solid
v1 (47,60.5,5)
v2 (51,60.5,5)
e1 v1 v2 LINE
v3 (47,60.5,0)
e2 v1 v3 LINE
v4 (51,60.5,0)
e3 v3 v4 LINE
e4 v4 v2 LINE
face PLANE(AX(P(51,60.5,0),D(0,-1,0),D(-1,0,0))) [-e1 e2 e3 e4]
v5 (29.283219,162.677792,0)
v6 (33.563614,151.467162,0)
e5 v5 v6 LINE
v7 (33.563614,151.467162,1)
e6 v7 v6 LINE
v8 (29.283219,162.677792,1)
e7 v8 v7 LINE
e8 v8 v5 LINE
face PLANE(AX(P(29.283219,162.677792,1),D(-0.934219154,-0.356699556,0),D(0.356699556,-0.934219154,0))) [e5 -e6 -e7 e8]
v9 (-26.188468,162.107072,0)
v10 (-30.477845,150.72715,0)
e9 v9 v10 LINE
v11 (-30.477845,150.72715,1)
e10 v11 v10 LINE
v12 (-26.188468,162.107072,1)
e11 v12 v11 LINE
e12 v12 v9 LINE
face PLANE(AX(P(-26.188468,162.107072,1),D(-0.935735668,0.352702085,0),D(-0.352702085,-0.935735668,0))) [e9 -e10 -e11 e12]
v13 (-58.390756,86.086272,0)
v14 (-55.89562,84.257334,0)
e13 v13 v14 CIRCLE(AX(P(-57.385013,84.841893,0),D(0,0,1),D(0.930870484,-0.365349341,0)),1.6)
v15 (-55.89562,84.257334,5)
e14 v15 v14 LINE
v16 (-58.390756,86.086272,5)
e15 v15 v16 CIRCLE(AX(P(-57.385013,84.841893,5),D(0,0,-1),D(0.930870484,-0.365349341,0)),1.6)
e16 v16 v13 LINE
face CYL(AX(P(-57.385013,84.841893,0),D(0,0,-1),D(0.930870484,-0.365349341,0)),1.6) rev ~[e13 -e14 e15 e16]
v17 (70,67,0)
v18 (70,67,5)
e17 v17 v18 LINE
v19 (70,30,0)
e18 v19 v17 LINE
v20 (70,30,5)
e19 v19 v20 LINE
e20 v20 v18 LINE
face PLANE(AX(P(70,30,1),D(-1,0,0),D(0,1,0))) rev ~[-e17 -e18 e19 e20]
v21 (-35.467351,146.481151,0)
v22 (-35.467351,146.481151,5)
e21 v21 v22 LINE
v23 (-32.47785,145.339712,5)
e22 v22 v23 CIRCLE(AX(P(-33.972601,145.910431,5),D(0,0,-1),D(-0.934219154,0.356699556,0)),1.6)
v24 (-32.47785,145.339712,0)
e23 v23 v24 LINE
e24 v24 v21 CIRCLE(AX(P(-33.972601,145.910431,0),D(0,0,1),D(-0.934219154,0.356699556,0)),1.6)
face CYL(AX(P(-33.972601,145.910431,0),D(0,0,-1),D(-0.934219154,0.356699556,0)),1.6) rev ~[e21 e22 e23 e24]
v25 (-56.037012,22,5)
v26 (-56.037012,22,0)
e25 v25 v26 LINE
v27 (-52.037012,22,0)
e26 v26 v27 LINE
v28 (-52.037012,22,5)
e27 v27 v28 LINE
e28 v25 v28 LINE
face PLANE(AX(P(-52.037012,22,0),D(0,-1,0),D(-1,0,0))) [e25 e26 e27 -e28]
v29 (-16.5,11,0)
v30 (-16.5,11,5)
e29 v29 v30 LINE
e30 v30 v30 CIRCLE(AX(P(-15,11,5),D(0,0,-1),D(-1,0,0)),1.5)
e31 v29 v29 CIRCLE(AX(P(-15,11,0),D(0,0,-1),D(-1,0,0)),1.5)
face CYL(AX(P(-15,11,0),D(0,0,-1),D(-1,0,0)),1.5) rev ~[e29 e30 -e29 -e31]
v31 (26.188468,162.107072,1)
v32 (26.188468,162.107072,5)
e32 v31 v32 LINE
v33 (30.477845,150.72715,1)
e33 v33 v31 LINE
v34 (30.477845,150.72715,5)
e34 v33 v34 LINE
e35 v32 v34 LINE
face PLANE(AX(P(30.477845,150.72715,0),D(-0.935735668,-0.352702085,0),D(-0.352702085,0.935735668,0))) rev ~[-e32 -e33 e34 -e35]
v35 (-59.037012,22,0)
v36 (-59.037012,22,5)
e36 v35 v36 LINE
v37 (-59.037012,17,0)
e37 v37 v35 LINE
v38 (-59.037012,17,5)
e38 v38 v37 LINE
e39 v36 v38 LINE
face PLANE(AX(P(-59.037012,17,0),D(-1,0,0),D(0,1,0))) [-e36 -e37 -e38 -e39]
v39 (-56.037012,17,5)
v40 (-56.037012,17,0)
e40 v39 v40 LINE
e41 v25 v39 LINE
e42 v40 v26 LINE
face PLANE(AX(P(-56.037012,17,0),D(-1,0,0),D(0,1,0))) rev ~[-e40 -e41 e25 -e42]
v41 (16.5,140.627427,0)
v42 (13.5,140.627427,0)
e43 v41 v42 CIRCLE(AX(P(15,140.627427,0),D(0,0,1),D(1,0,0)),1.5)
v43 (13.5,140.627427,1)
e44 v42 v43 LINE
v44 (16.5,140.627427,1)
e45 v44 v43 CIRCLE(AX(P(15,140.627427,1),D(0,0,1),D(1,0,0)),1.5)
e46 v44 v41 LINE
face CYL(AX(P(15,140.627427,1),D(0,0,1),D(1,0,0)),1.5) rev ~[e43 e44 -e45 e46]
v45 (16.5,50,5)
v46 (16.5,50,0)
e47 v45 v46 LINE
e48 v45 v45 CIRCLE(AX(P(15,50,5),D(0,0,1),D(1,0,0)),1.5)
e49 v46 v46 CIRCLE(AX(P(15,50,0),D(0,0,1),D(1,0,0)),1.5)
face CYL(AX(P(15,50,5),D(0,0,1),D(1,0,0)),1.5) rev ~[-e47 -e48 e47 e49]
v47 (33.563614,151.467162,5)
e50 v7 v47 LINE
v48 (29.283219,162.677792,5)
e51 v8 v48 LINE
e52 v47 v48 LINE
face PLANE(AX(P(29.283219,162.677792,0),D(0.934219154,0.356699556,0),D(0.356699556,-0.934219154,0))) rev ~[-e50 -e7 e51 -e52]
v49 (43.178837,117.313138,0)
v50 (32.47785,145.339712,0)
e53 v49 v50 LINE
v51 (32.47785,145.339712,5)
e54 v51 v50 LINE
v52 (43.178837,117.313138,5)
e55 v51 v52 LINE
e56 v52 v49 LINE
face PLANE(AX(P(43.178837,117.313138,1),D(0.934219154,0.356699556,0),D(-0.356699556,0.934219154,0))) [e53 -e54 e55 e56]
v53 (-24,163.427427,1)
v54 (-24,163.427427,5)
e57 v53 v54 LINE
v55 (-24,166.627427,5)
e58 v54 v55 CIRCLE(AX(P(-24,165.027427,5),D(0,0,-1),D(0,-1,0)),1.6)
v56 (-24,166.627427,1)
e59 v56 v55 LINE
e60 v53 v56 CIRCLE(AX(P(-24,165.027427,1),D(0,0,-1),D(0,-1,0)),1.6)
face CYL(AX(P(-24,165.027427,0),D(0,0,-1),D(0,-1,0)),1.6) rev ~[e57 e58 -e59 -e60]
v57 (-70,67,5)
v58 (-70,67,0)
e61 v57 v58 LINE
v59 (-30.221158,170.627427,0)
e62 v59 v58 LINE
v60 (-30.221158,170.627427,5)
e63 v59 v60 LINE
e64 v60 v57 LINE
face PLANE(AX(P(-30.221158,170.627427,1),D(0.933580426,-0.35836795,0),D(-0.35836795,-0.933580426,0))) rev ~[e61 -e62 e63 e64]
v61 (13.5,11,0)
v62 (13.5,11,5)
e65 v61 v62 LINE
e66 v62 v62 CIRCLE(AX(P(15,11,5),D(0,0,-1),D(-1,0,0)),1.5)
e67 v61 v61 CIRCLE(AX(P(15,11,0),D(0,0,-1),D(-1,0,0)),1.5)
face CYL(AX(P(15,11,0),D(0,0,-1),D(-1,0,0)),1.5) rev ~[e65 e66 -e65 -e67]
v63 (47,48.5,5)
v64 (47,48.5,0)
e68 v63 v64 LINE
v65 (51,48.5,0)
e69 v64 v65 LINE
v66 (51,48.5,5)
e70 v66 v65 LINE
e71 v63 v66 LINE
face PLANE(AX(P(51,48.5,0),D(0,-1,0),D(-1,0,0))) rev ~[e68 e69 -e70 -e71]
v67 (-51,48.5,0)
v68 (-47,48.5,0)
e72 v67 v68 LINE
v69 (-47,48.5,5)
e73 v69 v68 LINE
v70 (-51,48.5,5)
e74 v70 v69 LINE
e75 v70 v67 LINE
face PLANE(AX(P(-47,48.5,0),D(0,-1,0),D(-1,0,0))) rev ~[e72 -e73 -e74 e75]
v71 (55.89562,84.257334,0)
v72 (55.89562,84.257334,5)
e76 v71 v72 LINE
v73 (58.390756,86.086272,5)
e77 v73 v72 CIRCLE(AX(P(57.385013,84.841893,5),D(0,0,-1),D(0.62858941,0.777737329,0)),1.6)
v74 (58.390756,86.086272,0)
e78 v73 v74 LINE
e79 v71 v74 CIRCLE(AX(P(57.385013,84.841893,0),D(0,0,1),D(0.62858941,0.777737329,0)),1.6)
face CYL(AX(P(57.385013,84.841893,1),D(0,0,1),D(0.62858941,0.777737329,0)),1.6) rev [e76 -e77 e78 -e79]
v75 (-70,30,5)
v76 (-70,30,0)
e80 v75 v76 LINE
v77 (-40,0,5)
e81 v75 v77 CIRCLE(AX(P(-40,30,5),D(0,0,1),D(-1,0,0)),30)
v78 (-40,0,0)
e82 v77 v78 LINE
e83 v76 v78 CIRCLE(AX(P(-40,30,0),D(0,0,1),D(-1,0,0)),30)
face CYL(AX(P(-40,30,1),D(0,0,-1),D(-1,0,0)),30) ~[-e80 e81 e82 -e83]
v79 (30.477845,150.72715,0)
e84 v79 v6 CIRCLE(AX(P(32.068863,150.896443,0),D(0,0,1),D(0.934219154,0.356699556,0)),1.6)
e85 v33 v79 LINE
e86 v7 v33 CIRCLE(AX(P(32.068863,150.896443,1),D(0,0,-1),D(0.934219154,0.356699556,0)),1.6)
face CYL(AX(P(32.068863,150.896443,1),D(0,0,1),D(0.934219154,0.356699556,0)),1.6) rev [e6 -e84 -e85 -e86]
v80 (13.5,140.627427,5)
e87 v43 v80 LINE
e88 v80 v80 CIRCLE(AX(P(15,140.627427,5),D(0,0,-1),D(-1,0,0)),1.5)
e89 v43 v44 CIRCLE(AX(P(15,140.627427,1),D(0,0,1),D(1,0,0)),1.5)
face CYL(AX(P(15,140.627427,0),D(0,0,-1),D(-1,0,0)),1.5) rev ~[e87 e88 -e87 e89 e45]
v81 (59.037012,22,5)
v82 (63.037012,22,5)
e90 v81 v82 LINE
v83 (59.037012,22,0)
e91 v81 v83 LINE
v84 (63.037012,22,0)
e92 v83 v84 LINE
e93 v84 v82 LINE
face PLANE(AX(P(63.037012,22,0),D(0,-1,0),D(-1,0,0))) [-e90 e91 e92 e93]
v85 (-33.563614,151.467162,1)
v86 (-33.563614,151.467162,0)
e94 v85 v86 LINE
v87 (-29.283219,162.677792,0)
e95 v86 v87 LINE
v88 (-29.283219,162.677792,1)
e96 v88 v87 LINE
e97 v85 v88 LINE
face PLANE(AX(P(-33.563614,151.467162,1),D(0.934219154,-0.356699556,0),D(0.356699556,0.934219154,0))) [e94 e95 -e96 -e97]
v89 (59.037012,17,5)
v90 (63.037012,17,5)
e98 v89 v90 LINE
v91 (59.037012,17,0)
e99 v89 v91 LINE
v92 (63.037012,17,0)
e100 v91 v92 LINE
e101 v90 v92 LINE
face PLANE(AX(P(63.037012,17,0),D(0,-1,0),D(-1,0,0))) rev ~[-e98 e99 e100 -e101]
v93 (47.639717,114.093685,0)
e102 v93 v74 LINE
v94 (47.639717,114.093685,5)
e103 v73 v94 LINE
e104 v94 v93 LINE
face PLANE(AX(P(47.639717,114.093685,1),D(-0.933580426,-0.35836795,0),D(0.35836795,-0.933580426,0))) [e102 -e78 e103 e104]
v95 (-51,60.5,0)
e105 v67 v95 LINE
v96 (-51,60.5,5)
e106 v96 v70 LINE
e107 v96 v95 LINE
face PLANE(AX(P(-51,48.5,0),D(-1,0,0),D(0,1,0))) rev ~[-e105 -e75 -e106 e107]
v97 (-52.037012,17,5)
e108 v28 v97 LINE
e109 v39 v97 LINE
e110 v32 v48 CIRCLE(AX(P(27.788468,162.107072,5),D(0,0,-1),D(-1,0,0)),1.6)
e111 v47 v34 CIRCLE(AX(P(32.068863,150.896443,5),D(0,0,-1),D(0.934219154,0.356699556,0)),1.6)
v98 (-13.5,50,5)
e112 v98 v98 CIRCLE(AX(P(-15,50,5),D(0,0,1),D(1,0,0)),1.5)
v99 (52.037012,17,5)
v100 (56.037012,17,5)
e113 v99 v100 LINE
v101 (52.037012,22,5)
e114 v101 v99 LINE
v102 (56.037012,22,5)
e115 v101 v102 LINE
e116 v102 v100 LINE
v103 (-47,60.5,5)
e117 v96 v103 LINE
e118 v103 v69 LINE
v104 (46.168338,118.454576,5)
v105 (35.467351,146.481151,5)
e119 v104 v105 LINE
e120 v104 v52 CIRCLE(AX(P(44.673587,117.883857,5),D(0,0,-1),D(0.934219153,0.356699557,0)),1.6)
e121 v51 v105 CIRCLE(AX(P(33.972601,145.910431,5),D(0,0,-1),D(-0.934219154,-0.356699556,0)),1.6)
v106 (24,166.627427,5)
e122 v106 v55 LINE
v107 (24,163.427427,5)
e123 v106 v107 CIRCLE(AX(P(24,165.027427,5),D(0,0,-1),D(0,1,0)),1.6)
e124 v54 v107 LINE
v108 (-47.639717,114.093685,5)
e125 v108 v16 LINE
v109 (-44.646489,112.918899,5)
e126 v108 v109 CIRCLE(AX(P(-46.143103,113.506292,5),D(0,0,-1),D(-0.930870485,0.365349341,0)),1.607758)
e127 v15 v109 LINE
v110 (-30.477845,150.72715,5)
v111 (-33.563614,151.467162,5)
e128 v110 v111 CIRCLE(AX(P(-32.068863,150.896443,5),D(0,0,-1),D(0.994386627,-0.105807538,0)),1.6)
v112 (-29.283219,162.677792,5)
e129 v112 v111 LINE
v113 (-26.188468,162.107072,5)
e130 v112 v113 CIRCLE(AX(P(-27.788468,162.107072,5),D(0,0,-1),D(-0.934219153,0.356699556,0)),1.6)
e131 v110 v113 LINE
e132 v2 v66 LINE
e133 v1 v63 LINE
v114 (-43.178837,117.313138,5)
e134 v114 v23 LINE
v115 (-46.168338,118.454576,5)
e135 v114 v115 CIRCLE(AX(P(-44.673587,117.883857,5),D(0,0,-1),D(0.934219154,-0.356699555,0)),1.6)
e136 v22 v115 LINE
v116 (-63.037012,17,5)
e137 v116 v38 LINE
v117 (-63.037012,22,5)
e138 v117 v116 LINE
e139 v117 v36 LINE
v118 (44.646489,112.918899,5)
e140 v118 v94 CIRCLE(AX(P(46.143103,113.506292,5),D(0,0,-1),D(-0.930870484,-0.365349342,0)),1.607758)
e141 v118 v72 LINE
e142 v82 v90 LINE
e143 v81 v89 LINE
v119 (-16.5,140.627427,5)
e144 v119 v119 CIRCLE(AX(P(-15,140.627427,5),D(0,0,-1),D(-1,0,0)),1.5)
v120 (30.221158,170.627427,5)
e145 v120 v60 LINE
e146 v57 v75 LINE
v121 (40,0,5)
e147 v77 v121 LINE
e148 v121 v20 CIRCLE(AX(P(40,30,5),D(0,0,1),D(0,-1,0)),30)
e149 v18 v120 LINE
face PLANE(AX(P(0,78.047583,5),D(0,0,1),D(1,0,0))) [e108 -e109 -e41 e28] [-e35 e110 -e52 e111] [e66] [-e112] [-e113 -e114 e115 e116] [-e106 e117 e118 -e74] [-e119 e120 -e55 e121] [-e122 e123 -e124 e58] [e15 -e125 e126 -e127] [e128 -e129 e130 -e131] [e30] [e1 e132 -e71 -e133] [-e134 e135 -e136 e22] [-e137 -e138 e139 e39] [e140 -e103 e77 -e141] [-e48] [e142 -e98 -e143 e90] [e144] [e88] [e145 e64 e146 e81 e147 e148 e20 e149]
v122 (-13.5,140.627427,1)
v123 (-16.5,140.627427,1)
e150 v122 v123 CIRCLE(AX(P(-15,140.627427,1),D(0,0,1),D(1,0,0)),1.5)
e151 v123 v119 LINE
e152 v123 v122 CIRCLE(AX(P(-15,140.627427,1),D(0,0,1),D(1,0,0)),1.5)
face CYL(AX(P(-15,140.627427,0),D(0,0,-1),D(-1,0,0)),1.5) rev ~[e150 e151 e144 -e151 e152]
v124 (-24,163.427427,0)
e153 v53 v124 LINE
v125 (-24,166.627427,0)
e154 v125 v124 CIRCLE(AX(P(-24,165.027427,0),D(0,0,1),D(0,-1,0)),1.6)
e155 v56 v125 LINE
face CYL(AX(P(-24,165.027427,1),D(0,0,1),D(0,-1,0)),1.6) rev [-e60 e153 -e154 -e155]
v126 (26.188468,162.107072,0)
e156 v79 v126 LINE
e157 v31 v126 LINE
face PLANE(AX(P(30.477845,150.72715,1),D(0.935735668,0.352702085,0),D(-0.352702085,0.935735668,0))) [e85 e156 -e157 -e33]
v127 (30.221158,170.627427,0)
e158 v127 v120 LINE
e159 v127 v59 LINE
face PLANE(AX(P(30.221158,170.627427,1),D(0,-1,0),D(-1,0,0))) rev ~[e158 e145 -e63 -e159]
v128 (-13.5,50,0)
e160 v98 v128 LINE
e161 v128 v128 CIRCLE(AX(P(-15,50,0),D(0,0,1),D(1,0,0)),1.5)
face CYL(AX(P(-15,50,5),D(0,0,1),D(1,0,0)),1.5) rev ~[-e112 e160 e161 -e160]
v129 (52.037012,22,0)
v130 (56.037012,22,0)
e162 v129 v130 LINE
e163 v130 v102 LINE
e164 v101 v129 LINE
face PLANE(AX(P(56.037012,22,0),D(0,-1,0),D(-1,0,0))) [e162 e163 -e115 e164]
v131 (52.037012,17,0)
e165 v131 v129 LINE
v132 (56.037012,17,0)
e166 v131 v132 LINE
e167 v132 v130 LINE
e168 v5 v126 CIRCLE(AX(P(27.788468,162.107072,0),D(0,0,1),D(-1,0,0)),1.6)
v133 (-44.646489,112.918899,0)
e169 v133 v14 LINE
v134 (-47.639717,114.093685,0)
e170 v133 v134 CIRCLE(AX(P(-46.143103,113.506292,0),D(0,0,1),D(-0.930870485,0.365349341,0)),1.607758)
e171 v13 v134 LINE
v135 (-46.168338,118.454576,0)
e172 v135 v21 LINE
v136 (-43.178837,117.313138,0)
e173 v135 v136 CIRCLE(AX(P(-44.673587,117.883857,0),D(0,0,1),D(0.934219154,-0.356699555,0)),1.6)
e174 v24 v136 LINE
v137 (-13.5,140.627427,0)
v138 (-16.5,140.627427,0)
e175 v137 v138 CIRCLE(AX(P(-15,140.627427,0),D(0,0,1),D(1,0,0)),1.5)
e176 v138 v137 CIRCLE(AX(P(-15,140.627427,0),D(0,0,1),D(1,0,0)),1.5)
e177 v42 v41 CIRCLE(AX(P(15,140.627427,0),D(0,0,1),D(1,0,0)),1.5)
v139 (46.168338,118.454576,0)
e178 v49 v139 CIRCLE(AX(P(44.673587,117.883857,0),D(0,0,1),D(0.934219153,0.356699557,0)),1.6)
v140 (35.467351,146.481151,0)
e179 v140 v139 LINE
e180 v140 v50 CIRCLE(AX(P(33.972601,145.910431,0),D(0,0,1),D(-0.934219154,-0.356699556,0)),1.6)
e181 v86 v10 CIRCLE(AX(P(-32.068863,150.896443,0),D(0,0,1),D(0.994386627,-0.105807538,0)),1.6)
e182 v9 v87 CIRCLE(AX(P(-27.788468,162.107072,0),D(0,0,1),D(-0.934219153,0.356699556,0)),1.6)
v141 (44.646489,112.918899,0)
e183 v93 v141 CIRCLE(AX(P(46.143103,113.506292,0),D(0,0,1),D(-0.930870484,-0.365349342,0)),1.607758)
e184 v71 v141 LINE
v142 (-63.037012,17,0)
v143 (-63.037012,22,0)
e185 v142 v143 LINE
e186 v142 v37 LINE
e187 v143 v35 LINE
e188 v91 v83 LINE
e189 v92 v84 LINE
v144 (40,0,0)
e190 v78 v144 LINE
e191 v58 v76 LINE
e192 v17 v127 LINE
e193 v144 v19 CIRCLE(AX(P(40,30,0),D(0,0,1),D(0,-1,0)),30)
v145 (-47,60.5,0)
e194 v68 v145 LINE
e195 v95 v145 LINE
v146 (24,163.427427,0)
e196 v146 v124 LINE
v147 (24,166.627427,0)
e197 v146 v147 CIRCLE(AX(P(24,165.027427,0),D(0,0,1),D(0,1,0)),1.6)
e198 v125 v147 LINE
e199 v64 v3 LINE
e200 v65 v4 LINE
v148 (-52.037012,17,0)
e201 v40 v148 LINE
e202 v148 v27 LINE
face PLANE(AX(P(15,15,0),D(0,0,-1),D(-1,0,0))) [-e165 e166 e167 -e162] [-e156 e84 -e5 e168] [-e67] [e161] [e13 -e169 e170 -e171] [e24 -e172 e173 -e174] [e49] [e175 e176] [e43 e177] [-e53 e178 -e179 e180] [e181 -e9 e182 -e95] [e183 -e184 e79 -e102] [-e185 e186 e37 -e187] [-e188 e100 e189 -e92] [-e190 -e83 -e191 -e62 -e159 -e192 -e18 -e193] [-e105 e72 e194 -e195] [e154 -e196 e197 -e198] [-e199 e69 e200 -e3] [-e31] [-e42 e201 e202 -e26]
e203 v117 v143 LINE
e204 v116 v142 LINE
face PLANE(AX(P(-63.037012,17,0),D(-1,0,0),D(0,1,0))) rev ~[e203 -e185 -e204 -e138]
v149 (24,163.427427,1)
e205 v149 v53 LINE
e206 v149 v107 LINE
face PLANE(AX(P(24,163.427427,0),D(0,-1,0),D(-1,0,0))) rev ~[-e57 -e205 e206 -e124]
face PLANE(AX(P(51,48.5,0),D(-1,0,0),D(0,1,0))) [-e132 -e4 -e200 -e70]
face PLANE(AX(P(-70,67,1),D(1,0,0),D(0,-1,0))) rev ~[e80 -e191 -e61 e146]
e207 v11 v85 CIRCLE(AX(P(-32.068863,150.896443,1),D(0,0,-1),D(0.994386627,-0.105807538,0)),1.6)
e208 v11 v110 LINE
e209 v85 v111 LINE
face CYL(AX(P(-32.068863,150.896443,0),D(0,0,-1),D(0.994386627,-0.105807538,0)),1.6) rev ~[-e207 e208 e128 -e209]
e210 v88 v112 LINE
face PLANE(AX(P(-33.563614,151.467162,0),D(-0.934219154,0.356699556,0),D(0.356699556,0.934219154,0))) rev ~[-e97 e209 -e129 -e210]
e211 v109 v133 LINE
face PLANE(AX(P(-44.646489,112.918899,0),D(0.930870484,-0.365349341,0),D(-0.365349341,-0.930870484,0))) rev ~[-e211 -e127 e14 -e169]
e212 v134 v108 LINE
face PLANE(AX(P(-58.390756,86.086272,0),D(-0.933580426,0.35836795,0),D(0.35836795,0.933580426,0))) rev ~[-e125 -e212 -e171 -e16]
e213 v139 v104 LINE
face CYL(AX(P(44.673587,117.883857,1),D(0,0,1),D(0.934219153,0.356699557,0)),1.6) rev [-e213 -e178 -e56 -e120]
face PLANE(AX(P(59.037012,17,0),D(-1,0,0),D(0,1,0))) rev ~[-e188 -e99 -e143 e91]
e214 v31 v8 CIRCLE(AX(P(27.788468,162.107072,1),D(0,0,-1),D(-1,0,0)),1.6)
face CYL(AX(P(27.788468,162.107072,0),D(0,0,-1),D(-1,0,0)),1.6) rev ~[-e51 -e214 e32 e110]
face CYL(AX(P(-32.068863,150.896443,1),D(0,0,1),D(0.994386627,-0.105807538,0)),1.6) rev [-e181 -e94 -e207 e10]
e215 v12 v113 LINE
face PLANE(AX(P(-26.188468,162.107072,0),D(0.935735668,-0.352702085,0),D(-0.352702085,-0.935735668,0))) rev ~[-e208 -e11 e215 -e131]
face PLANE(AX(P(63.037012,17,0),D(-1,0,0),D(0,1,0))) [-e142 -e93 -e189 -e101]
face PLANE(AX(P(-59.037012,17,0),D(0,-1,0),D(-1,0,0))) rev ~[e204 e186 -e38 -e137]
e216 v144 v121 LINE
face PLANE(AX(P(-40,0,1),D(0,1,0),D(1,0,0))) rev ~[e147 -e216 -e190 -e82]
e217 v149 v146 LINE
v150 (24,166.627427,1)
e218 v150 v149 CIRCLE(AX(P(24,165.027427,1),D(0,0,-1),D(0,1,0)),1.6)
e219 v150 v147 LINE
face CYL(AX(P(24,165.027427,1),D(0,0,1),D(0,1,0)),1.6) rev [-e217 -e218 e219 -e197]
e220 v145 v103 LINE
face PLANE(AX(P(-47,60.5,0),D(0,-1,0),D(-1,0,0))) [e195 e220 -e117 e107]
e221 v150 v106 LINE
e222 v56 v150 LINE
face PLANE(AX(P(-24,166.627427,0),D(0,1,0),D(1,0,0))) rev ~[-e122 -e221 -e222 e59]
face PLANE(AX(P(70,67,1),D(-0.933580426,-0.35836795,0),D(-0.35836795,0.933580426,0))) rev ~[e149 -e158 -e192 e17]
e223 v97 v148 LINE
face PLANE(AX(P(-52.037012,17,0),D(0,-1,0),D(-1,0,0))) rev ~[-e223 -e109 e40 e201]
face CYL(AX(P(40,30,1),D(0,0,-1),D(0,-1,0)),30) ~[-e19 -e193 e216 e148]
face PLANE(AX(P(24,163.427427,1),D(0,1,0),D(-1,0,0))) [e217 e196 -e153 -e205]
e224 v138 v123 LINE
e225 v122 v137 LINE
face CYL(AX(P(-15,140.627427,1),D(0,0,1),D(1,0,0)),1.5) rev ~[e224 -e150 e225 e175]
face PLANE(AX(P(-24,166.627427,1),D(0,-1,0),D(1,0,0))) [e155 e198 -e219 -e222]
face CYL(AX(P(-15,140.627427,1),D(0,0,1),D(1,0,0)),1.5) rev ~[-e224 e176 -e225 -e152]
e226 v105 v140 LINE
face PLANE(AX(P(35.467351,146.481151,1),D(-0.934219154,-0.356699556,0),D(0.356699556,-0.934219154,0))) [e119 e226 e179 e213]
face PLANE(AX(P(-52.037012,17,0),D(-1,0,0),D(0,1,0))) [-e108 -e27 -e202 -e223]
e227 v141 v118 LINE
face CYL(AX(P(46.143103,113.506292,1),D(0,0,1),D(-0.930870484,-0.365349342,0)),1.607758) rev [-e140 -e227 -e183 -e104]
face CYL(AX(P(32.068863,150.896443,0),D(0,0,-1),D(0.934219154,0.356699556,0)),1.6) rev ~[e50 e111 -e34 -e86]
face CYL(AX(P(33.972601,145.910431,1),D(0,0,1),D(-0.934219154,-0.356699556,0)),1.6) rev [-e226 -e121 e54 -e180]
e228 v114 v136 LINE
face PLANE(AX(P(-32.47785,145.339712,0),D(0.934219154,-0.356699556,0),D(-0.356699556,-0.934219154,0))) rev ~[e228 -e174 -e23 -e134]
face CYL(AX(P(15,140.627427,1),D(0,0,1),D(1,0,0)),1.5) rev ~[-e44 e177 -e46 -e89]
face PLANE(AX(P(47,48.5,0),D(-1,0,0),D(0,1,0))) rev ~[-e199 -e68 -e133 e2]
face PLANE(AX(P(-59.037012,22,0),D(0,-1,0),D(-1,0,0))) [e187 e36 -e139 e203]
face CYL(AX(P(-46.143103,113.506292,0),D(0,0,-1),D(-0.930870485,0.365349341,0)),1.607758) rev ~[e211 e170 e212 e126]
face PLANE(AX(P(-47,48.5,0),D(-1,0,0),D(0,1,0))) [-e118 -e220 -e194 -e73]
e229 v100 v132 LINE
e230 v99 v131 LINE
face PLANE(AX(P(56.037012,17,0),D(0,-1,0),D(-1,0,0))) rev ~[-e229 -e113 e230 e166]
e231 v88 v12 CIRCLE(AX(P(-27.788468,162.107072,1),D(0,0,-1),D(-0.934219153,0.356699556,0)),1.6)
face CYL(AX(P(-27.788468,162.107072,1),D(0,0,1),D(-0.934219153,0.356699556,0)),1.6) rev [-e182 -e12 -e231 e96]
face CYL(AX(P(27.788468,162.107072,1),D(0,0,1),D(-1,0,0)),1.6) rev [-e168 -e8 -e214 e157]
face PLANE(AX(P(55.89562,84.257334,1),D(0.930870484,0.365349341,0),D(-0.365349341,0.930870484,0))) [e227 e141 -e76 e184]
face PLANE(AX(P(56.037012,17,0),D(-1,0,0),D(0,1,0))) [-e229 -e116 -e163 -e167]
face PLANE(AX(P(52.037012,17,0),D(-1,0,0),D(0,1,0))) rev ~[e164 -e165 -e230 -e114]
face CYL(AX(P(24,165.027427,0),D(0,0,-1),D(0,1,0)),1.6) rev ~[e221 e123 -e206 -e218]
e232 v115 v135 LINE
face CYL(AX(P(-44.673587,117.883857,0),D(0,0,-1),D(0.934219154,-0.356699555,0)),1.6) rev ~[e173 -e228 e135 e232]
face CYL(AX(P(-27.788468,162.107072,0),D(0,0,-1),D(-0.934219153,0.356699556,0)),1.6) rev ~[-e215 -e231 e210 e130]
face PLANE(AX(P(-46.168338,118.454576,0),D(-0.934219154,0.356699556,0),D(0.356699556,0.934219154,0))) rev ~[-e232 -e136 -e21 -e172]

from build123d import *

# Parameters (mm, degrees)
BOSS_EXTRUDE2_DEPTH  = 1
SKETCH41_W           = 4
SKETCH41_H           = 5
SKETCH41_R           = 1.5
SKETCH41_H_2         = 12
CUT_EXTRUDE42_DEPTH  = 19
BOSS_EXTRUDE17_DEPTH = 4
SKETCH47_W           = 4
SKETCH47_H           = 5
SKETCH47_H_2         = 12
CUT_EXTRUDE47_DEPTH  = 185.495850796
SKETCH48_R           = 1.5
CUT_EXTRUDE44_DEPTH  = 185.495850796
BOSS_EXTRUDE18_START = -1
SKETCH51_R           = 1.5
BOSS_EXTRUDE18_DEPTH = 1
BOSS_EXTRUDE19_START = -2
SKETCH52_R           = 1.5
BOSS_EXTRUDE19_DEPTH = 2
SKETCH53_R           = 1.5
CUT_EXTRUDE46_DEPTH  = 185.495850796
BOSS_EXTRUDE20_START = -1
SKETCH55_R           = 1.5
BOSS_EXTRUDE20_DEPTH = 1
SKETCH58_R           = 1.5
CUT_EXTRUDE45_DEPTH  = 185.495850796


with BuildPart() as part:
    # Sketch2 → Boss-Extrude2 (new body)
    with BuildSketch(Plane.XY):
        with BuildLine():
            Line((0, 0), (40, 0))
            ThreePointArc((40, 0), (61.213203436, 8.786796564), (70, 30))
            Line((70, 30), (70, 67))
            Line((70, 67), (30.2211576, 170.627427341))
            Line((30.2211576, 170.627427341), (-30.2211576, 170.627427341))
            Line((-30.2211576, 170.627427341), (-70, 67))
            Line((-70, 67), (-70, 30))
            ThreePointArc((-70, 30), (-61.213203436, 8.786796564), (-40, 0))
            Line((-40, 0), (0, 0))
        make_face()
    extrude(amount=BOSS_EXTRUDE2_DEPTH)

    # Sketch41 → Cut-Extrude42 (cut)
    with BuildSketch(Plane.XY.offset(1)):
        with Locations((54.037011669, 19.5)):
            Rectangle(SKETCH41_W, SKETCH41_H)
        with Locations((-54.037011669, 19.5)):
            Rectangle(SKETCH41_W, SKETCH41_H)
        with Locations((-15, 65)):
            Circle(SKETCH41_R)
        with Locations((15, 65)):
            Circle(SKETCH41_R)
        with BuildLine():
            ThreePointArc((-55.895620015, 84.257333662), (-58.330916289, 83.551440528), (-58.390755847, 86.086272335))
            Line((-58.390755847, 86.086272335), (-47.63971736, 114.09368513))
            ThreePointArc((-47.63971736, 114.09368513), (-45.555710052, 115.00290606), (-44.646489123, 112.918898752))
            Line((-44.646489123, 112.918898752), (-55.895620015, 84.257333662))
        make_face()
        with BuildLine():
            ThreePointArc((-43.178836535, 117.313137537), (-45.24430647, 116.38910618), (-46.168337826, 118.454576116))
            Line((-46.168337826, 118.454576116), (-35.46735115, 146.481150722))
            ThreePointArc((-35.46735115, 146.481150722), (-33.401881215, 147.405182078), (-32.477849859, 145.339712143))
            Line((-32.477849859, 145.339712143), (-43.178836535, 117.313137537))
        make_face()
        with BuildLine():
            ThreePointArc((24, 166.627427341), (25.6, 165.027427341), (24, 163.427427341))
            Line((24, 163.427427341), (-24, 163.427427341))
            ThreePointArc((-24, 163.427427341), (-25.6, 165.027427341), (-24, 166.627427341))
            Line((-24, 166.627427341), (24, 166.627427341))
        make_face()
        with BuildLine():
            ThreePointArc((33.563613753, 151.467161805), (32.441986519, 149.340557263), (30.477844504, 150.727150454))
            Line((30.477844504, 150.727150454), (26.188468437, 162.107072358))
            ThreePointArc((26.188468437, 162.107072358), (27.498296965, 163.680540031), (29.283219083, 162.677791648))
            Line((29.283219083, 162.677791648), (33.563613753, 151.467161805))
        make_face()
        with BuildLine():
            Line((55.895620015, 84.257333662), (44.646489123, 112.918898752))
            ThreePointArc((44.646489123, 112.918898752), (45.555710052, 115.00290606), (47.63971736, 114.09368513))
            Line((47.63971736, 114.09368513), (58.390755847, 86.086272335))
            ThreePointArc((58.390755847, 86.086272335), (58.330916289, 83.551440528), (55.895620015, 84.257333662))
        make_face()
        with Locations((-15, 140.627427341)):
            Circle(SKETCH41_R)
        with Locations((15, 140.627427341)):
            Circle(SKETCH41_R)
        with Locations((49, 54.5)):
            Rectangle(SKETCH41_W, SKETCH41_H_2)
        with Locations((-49, 54.5)):
            Rectangle(SKETCH41_W, SKETCH41_H_2)
        with Locations((61.037011669, 19.5)):
            Rectangle(SKETCH41_W, SKETCH41_H)
        with Locations(Location((15, 15, 0), (0, 0, 180))):
            Circle(SKETCH41_R)
        with Locations((-15, 15)):
            Circle(SKETCH41_R)
        with Locations((-61.037011669, 19.5)):
            Rectangle(SKETCH41_W, SKETCH41_H)
        with BuildLine():
            Line((-33.563613753, 151.467161805), (-29.283219083, 162.677791648))
            ThreePointArc((-29.283219083, 162.677791648), (-27.498296965, 163.680540031), (-26.188468437, 162.107072358))
            Line((-26.188468437, 162.107072358), (-30.477844504, 150.727150454))
            ThreePointArc((-30.477844504, 150.727150454), (-32.441986519, 149.340557263), (-33.563613753, 151.467161805))
        make_face()
        with BuildLine():
            Line((35.46735115, 146.481150722), (46.168337826, 118.454576116))
            ThreePointArc((46.168337826, 118.454576116), (45.24430647, 116.38910618), (43.178836535, 117.313137537))
            Line((43.178836535, 117.313137537), (32.477849859, 145.339712143))
            ThreePointArc((32.477849859, 145.339712143), (33.401881215, 147.405182078), (35.46735115, 146.481150722))
        make_face()
    extrude(amount=-CUT_EXTRUDE42_DEPTH, mode=Mode.SUBTRACT)

    # Sketch42 → Boss-Extrude17 (add)
    with BuildSketch(Plane.XY.offset(1)):
        with BuildLine():
            Line((-40, 0), (40, 0))
            ThreePointArc((40, 0), (61.213203436, 8.786796564), (70, 30))
            Line((70, 30), (70, 67))
            Line((70, 67), (30.2211576, 170.627427341))
            Line((30.2211576, 170.627427341), (-30.2211576, 170.627427341))
            Line((-30.2211576, 170.627427341), (-70, 67))
            Line((-70, 67), (-70, 30))
            ThreePointArc((-70, 30), (-61.213203436, 8.786796564), (-40, 0))
        make_face()
    extrude(amount=BOSS_EXTRUDE17_DEPTH)

    # Sketch47 → Cut-Extrude47 (cut, through all)
    with BuildSketch(Plane(origin=(0, 0, 0), x_dir=(-1, 0, 0), z_dir=(0, 0, -1))):
        with Locations((61.037011669, 19.5)):
            Rectangle(SKETCH47_W, SKETCH47_H)
        with Locations((54.037011669, 19.5)):
            Rectangle(SKETCH47_W, SKETCH47_H)
        with Locations((-54.037011669, 19.5)):
            Rectangle(SKETCH47_W, SKETCH47_H)
        with Locations((-61.037011669, 19.5)):
            Rectangle(SKETCH47_W, SKETCH47_H)
        with Locations((-49, 54.5)):
            Rectangle(SKETCH47_W, SKETCH47_H_2)
        with Locations((49, 54.5)):
            Rectangle(SKETCH47_W, SKETCH47_H_2)
    extrude(amount=-CUT_EXTRUDE47_DEPTH, mode=Mode.SUBTRACT)

    # Sketch48 → Cut-Extrude44 (cut, through all)
    with BuildSketch(Plane(origin=(0, 0, 0), x_dir=(-1, 0, 0), z_dir=(0, 0, -1))):
        with Locations((-15, 140.627427341)):
            Circle(SKETCH48_R)
        with Locations((15, 140.627427341)):
            Circle(SKETCH48_R)
        with BuildLine():
            Line((-43.178836535, 117.313137537), (-32.477849859, 145.339712143))
            ThreePointArc((-32.477849859, 145.339712143), (-33.401881215, 147.405182078), (-35.46735115, 146.481150722))
            Line((-35.46735115, 146.481150722), (-46.168337826, 118.454576116))
            ThreePointArc((-46.168337826, 118.454576116), (-45.24430647, 116.38910618), (-43.178836535, 117.313137537))
        make_face()
        with BuildLine():
            Line((-55.895620015, 84.257333662), (-44.646489123, 112.918898752))
            ThreePointArc((-44.646489123, 112.918898752), (-45.555710052, 115.00290606), (-47.63971736, 114.09368513))
            Line((-47.63971736, 114.09368513), (-58.390755847, 86.086272335))
            ThreePointArc((-58.390755847, 86.086272335), (-58.330916289, 83.551440528), (-55.895620015, 84.257333662))
        make_face()
        with BuildLine():
            Line((-30.477844504, 150.727150454), (-26.188468437, 162.107072358))
            ThreePointArc((-26.188468437, 162.107072358), (-27.498296965, 163.680540031), (-29.283219083, 162.677791648))
            Line((-29.283219083, 162.677791648), (-33.563613753, 151.467161805))
            ThreePointArc((-33.563613753, 151.467161805), (-32.441986519, 149.340557263), (-30.477844504, 150.727150454))
        make_face()
        with BuildLine():
            Line((-24, 163.427427341), (24, 163.427427341))
            ThreePointArc((24, 163.427427341), (25.6, 165.027427341), (24, 166.627427341))
            Line((24, 166.627427341), (-24, 166.627427341))
            ThreePointArc((-24, 166.627427341), (-25.6, 165.027427341), (-24, 163.427427341))
        make_face()
        with BuildLine():
            Line((26.188468437, 162.107072358), (30.477844504, 150.727150454))
            ThreePointArc((30.477844504, 150.727150454), (32.441986519, 149.340557263), (33.563613753, 151.467161805))
            Line((33.563613753, 151.467161805), (29.283219083, 162.677791648))
            ThreePointArc((29.283219083, 162.677791648), (27.498296965, 163.680540031), (26.188468437, 162.107072358))
        make_face()
        with BuildLine():
            Line((46.168337826, 118.454576116), (35.46735115, 146.481150722))
            ThreePointArc((35.46735115, 146.481150722), (33.401881215, 147.405182078), (32.477849859, 145.339712143))
            Line((32.477849859, 145.339712143), (43.178836535, 117.313137537))
            ThreePointArc((43.178836535, 117.313137537), (45.24430647, 116.38910618), (46.168337826, 118.454576116))
        make_face()
        with BuildLine():
            Line((58.390755847, 86.086272335), (47.63971736, 114.09368513))
            ThreePointArc((47.63971736, 114.09368513), (45.555710052, 115.00290606), (44.646489123, 112.918898752))
            Line((44.646489123, 112.918898752), (55.895620015, 84.257333662))
            ThreePointArc((55.895620015, 84.257333662), (58.330916289, 83.551440528), (58.390755847, 86.086272335))
        make_face()
    extrude(amount=-CUT_EXTRUDE44_DEPTH, mode=Mode.SUBTRACT)

    # Sketch51 → Boss-Extrude18 (add)
    with BuildSketch(Plane(origin=(0, 0, 0), x_dir=(-1, 0, 0), z_dir=(0, 0, -1)).offset(BOSS_EXTRUDE18_START)):
        with Locations((-15, 65)):
            Circle(SKETCH51_R)
    extrude(amount=BOSS_EXTRUDE18_DEPTH)

    # Sketch52 → Boss-Extrude19 (add)
    with BuildSketch(Plane(origin=(0, 0, 0), x_dir=(-1, 0, 0), z_dir=(0, 0, -1)).offset(BOSS_EXTRUDE19_START)):
        with Locations((15, 65)):
            Circle(SKETCH52_R)
    extrude(amount=BOSS_EXTRUDE19_DEPTH)

    # Sketch53 → Cut-Extrude46 (cut, through all)
    with BuildSketch(Plane.XY.offset(5)):
        with Locations((-15, 50)):
            Circle(SKETCH53_R)
        with Locations((15, 50)):
            Circle(SKETCH53_R)
    extrude(amount=-CUT_EXTRUDE46_DEPTH, mode=Mode.SUBTRACT)

    # Sketch55 → Boss-Extrude20 (add)
    with BuildSketch(Plane(origin=(0, 0, 0), x_dir=(-1, 0, 0), z_dir=(0, 0, -1)).offset(BOSS_EXTRUDE20_START)):
        with Locations((-15, 15)):
            Circle(SKETCH55_R)
        with Locations((15, 15)):
            Circle(SKETCH55_R)
    extrude(amount=BOSS_EXTRUDE20_DEPTH)

    # Sketch58 → Cut-Extrude45 (cut, through all)
    with BuildSketch(Plane(origin=(0, 0, 0), x_dir=(-1, 0, 0), z_dir=(0, 0, -1))):
        with Locations((-15, 11)):
            Circle(SKETCH58_R)
        with Locations((15, 11)):
            Circle(SKETCH58_R)
    extrude(amount=-CUT_EXTRUDE45_DEPTH, mode=Mode.SUBTRACT)


solid = part.part
